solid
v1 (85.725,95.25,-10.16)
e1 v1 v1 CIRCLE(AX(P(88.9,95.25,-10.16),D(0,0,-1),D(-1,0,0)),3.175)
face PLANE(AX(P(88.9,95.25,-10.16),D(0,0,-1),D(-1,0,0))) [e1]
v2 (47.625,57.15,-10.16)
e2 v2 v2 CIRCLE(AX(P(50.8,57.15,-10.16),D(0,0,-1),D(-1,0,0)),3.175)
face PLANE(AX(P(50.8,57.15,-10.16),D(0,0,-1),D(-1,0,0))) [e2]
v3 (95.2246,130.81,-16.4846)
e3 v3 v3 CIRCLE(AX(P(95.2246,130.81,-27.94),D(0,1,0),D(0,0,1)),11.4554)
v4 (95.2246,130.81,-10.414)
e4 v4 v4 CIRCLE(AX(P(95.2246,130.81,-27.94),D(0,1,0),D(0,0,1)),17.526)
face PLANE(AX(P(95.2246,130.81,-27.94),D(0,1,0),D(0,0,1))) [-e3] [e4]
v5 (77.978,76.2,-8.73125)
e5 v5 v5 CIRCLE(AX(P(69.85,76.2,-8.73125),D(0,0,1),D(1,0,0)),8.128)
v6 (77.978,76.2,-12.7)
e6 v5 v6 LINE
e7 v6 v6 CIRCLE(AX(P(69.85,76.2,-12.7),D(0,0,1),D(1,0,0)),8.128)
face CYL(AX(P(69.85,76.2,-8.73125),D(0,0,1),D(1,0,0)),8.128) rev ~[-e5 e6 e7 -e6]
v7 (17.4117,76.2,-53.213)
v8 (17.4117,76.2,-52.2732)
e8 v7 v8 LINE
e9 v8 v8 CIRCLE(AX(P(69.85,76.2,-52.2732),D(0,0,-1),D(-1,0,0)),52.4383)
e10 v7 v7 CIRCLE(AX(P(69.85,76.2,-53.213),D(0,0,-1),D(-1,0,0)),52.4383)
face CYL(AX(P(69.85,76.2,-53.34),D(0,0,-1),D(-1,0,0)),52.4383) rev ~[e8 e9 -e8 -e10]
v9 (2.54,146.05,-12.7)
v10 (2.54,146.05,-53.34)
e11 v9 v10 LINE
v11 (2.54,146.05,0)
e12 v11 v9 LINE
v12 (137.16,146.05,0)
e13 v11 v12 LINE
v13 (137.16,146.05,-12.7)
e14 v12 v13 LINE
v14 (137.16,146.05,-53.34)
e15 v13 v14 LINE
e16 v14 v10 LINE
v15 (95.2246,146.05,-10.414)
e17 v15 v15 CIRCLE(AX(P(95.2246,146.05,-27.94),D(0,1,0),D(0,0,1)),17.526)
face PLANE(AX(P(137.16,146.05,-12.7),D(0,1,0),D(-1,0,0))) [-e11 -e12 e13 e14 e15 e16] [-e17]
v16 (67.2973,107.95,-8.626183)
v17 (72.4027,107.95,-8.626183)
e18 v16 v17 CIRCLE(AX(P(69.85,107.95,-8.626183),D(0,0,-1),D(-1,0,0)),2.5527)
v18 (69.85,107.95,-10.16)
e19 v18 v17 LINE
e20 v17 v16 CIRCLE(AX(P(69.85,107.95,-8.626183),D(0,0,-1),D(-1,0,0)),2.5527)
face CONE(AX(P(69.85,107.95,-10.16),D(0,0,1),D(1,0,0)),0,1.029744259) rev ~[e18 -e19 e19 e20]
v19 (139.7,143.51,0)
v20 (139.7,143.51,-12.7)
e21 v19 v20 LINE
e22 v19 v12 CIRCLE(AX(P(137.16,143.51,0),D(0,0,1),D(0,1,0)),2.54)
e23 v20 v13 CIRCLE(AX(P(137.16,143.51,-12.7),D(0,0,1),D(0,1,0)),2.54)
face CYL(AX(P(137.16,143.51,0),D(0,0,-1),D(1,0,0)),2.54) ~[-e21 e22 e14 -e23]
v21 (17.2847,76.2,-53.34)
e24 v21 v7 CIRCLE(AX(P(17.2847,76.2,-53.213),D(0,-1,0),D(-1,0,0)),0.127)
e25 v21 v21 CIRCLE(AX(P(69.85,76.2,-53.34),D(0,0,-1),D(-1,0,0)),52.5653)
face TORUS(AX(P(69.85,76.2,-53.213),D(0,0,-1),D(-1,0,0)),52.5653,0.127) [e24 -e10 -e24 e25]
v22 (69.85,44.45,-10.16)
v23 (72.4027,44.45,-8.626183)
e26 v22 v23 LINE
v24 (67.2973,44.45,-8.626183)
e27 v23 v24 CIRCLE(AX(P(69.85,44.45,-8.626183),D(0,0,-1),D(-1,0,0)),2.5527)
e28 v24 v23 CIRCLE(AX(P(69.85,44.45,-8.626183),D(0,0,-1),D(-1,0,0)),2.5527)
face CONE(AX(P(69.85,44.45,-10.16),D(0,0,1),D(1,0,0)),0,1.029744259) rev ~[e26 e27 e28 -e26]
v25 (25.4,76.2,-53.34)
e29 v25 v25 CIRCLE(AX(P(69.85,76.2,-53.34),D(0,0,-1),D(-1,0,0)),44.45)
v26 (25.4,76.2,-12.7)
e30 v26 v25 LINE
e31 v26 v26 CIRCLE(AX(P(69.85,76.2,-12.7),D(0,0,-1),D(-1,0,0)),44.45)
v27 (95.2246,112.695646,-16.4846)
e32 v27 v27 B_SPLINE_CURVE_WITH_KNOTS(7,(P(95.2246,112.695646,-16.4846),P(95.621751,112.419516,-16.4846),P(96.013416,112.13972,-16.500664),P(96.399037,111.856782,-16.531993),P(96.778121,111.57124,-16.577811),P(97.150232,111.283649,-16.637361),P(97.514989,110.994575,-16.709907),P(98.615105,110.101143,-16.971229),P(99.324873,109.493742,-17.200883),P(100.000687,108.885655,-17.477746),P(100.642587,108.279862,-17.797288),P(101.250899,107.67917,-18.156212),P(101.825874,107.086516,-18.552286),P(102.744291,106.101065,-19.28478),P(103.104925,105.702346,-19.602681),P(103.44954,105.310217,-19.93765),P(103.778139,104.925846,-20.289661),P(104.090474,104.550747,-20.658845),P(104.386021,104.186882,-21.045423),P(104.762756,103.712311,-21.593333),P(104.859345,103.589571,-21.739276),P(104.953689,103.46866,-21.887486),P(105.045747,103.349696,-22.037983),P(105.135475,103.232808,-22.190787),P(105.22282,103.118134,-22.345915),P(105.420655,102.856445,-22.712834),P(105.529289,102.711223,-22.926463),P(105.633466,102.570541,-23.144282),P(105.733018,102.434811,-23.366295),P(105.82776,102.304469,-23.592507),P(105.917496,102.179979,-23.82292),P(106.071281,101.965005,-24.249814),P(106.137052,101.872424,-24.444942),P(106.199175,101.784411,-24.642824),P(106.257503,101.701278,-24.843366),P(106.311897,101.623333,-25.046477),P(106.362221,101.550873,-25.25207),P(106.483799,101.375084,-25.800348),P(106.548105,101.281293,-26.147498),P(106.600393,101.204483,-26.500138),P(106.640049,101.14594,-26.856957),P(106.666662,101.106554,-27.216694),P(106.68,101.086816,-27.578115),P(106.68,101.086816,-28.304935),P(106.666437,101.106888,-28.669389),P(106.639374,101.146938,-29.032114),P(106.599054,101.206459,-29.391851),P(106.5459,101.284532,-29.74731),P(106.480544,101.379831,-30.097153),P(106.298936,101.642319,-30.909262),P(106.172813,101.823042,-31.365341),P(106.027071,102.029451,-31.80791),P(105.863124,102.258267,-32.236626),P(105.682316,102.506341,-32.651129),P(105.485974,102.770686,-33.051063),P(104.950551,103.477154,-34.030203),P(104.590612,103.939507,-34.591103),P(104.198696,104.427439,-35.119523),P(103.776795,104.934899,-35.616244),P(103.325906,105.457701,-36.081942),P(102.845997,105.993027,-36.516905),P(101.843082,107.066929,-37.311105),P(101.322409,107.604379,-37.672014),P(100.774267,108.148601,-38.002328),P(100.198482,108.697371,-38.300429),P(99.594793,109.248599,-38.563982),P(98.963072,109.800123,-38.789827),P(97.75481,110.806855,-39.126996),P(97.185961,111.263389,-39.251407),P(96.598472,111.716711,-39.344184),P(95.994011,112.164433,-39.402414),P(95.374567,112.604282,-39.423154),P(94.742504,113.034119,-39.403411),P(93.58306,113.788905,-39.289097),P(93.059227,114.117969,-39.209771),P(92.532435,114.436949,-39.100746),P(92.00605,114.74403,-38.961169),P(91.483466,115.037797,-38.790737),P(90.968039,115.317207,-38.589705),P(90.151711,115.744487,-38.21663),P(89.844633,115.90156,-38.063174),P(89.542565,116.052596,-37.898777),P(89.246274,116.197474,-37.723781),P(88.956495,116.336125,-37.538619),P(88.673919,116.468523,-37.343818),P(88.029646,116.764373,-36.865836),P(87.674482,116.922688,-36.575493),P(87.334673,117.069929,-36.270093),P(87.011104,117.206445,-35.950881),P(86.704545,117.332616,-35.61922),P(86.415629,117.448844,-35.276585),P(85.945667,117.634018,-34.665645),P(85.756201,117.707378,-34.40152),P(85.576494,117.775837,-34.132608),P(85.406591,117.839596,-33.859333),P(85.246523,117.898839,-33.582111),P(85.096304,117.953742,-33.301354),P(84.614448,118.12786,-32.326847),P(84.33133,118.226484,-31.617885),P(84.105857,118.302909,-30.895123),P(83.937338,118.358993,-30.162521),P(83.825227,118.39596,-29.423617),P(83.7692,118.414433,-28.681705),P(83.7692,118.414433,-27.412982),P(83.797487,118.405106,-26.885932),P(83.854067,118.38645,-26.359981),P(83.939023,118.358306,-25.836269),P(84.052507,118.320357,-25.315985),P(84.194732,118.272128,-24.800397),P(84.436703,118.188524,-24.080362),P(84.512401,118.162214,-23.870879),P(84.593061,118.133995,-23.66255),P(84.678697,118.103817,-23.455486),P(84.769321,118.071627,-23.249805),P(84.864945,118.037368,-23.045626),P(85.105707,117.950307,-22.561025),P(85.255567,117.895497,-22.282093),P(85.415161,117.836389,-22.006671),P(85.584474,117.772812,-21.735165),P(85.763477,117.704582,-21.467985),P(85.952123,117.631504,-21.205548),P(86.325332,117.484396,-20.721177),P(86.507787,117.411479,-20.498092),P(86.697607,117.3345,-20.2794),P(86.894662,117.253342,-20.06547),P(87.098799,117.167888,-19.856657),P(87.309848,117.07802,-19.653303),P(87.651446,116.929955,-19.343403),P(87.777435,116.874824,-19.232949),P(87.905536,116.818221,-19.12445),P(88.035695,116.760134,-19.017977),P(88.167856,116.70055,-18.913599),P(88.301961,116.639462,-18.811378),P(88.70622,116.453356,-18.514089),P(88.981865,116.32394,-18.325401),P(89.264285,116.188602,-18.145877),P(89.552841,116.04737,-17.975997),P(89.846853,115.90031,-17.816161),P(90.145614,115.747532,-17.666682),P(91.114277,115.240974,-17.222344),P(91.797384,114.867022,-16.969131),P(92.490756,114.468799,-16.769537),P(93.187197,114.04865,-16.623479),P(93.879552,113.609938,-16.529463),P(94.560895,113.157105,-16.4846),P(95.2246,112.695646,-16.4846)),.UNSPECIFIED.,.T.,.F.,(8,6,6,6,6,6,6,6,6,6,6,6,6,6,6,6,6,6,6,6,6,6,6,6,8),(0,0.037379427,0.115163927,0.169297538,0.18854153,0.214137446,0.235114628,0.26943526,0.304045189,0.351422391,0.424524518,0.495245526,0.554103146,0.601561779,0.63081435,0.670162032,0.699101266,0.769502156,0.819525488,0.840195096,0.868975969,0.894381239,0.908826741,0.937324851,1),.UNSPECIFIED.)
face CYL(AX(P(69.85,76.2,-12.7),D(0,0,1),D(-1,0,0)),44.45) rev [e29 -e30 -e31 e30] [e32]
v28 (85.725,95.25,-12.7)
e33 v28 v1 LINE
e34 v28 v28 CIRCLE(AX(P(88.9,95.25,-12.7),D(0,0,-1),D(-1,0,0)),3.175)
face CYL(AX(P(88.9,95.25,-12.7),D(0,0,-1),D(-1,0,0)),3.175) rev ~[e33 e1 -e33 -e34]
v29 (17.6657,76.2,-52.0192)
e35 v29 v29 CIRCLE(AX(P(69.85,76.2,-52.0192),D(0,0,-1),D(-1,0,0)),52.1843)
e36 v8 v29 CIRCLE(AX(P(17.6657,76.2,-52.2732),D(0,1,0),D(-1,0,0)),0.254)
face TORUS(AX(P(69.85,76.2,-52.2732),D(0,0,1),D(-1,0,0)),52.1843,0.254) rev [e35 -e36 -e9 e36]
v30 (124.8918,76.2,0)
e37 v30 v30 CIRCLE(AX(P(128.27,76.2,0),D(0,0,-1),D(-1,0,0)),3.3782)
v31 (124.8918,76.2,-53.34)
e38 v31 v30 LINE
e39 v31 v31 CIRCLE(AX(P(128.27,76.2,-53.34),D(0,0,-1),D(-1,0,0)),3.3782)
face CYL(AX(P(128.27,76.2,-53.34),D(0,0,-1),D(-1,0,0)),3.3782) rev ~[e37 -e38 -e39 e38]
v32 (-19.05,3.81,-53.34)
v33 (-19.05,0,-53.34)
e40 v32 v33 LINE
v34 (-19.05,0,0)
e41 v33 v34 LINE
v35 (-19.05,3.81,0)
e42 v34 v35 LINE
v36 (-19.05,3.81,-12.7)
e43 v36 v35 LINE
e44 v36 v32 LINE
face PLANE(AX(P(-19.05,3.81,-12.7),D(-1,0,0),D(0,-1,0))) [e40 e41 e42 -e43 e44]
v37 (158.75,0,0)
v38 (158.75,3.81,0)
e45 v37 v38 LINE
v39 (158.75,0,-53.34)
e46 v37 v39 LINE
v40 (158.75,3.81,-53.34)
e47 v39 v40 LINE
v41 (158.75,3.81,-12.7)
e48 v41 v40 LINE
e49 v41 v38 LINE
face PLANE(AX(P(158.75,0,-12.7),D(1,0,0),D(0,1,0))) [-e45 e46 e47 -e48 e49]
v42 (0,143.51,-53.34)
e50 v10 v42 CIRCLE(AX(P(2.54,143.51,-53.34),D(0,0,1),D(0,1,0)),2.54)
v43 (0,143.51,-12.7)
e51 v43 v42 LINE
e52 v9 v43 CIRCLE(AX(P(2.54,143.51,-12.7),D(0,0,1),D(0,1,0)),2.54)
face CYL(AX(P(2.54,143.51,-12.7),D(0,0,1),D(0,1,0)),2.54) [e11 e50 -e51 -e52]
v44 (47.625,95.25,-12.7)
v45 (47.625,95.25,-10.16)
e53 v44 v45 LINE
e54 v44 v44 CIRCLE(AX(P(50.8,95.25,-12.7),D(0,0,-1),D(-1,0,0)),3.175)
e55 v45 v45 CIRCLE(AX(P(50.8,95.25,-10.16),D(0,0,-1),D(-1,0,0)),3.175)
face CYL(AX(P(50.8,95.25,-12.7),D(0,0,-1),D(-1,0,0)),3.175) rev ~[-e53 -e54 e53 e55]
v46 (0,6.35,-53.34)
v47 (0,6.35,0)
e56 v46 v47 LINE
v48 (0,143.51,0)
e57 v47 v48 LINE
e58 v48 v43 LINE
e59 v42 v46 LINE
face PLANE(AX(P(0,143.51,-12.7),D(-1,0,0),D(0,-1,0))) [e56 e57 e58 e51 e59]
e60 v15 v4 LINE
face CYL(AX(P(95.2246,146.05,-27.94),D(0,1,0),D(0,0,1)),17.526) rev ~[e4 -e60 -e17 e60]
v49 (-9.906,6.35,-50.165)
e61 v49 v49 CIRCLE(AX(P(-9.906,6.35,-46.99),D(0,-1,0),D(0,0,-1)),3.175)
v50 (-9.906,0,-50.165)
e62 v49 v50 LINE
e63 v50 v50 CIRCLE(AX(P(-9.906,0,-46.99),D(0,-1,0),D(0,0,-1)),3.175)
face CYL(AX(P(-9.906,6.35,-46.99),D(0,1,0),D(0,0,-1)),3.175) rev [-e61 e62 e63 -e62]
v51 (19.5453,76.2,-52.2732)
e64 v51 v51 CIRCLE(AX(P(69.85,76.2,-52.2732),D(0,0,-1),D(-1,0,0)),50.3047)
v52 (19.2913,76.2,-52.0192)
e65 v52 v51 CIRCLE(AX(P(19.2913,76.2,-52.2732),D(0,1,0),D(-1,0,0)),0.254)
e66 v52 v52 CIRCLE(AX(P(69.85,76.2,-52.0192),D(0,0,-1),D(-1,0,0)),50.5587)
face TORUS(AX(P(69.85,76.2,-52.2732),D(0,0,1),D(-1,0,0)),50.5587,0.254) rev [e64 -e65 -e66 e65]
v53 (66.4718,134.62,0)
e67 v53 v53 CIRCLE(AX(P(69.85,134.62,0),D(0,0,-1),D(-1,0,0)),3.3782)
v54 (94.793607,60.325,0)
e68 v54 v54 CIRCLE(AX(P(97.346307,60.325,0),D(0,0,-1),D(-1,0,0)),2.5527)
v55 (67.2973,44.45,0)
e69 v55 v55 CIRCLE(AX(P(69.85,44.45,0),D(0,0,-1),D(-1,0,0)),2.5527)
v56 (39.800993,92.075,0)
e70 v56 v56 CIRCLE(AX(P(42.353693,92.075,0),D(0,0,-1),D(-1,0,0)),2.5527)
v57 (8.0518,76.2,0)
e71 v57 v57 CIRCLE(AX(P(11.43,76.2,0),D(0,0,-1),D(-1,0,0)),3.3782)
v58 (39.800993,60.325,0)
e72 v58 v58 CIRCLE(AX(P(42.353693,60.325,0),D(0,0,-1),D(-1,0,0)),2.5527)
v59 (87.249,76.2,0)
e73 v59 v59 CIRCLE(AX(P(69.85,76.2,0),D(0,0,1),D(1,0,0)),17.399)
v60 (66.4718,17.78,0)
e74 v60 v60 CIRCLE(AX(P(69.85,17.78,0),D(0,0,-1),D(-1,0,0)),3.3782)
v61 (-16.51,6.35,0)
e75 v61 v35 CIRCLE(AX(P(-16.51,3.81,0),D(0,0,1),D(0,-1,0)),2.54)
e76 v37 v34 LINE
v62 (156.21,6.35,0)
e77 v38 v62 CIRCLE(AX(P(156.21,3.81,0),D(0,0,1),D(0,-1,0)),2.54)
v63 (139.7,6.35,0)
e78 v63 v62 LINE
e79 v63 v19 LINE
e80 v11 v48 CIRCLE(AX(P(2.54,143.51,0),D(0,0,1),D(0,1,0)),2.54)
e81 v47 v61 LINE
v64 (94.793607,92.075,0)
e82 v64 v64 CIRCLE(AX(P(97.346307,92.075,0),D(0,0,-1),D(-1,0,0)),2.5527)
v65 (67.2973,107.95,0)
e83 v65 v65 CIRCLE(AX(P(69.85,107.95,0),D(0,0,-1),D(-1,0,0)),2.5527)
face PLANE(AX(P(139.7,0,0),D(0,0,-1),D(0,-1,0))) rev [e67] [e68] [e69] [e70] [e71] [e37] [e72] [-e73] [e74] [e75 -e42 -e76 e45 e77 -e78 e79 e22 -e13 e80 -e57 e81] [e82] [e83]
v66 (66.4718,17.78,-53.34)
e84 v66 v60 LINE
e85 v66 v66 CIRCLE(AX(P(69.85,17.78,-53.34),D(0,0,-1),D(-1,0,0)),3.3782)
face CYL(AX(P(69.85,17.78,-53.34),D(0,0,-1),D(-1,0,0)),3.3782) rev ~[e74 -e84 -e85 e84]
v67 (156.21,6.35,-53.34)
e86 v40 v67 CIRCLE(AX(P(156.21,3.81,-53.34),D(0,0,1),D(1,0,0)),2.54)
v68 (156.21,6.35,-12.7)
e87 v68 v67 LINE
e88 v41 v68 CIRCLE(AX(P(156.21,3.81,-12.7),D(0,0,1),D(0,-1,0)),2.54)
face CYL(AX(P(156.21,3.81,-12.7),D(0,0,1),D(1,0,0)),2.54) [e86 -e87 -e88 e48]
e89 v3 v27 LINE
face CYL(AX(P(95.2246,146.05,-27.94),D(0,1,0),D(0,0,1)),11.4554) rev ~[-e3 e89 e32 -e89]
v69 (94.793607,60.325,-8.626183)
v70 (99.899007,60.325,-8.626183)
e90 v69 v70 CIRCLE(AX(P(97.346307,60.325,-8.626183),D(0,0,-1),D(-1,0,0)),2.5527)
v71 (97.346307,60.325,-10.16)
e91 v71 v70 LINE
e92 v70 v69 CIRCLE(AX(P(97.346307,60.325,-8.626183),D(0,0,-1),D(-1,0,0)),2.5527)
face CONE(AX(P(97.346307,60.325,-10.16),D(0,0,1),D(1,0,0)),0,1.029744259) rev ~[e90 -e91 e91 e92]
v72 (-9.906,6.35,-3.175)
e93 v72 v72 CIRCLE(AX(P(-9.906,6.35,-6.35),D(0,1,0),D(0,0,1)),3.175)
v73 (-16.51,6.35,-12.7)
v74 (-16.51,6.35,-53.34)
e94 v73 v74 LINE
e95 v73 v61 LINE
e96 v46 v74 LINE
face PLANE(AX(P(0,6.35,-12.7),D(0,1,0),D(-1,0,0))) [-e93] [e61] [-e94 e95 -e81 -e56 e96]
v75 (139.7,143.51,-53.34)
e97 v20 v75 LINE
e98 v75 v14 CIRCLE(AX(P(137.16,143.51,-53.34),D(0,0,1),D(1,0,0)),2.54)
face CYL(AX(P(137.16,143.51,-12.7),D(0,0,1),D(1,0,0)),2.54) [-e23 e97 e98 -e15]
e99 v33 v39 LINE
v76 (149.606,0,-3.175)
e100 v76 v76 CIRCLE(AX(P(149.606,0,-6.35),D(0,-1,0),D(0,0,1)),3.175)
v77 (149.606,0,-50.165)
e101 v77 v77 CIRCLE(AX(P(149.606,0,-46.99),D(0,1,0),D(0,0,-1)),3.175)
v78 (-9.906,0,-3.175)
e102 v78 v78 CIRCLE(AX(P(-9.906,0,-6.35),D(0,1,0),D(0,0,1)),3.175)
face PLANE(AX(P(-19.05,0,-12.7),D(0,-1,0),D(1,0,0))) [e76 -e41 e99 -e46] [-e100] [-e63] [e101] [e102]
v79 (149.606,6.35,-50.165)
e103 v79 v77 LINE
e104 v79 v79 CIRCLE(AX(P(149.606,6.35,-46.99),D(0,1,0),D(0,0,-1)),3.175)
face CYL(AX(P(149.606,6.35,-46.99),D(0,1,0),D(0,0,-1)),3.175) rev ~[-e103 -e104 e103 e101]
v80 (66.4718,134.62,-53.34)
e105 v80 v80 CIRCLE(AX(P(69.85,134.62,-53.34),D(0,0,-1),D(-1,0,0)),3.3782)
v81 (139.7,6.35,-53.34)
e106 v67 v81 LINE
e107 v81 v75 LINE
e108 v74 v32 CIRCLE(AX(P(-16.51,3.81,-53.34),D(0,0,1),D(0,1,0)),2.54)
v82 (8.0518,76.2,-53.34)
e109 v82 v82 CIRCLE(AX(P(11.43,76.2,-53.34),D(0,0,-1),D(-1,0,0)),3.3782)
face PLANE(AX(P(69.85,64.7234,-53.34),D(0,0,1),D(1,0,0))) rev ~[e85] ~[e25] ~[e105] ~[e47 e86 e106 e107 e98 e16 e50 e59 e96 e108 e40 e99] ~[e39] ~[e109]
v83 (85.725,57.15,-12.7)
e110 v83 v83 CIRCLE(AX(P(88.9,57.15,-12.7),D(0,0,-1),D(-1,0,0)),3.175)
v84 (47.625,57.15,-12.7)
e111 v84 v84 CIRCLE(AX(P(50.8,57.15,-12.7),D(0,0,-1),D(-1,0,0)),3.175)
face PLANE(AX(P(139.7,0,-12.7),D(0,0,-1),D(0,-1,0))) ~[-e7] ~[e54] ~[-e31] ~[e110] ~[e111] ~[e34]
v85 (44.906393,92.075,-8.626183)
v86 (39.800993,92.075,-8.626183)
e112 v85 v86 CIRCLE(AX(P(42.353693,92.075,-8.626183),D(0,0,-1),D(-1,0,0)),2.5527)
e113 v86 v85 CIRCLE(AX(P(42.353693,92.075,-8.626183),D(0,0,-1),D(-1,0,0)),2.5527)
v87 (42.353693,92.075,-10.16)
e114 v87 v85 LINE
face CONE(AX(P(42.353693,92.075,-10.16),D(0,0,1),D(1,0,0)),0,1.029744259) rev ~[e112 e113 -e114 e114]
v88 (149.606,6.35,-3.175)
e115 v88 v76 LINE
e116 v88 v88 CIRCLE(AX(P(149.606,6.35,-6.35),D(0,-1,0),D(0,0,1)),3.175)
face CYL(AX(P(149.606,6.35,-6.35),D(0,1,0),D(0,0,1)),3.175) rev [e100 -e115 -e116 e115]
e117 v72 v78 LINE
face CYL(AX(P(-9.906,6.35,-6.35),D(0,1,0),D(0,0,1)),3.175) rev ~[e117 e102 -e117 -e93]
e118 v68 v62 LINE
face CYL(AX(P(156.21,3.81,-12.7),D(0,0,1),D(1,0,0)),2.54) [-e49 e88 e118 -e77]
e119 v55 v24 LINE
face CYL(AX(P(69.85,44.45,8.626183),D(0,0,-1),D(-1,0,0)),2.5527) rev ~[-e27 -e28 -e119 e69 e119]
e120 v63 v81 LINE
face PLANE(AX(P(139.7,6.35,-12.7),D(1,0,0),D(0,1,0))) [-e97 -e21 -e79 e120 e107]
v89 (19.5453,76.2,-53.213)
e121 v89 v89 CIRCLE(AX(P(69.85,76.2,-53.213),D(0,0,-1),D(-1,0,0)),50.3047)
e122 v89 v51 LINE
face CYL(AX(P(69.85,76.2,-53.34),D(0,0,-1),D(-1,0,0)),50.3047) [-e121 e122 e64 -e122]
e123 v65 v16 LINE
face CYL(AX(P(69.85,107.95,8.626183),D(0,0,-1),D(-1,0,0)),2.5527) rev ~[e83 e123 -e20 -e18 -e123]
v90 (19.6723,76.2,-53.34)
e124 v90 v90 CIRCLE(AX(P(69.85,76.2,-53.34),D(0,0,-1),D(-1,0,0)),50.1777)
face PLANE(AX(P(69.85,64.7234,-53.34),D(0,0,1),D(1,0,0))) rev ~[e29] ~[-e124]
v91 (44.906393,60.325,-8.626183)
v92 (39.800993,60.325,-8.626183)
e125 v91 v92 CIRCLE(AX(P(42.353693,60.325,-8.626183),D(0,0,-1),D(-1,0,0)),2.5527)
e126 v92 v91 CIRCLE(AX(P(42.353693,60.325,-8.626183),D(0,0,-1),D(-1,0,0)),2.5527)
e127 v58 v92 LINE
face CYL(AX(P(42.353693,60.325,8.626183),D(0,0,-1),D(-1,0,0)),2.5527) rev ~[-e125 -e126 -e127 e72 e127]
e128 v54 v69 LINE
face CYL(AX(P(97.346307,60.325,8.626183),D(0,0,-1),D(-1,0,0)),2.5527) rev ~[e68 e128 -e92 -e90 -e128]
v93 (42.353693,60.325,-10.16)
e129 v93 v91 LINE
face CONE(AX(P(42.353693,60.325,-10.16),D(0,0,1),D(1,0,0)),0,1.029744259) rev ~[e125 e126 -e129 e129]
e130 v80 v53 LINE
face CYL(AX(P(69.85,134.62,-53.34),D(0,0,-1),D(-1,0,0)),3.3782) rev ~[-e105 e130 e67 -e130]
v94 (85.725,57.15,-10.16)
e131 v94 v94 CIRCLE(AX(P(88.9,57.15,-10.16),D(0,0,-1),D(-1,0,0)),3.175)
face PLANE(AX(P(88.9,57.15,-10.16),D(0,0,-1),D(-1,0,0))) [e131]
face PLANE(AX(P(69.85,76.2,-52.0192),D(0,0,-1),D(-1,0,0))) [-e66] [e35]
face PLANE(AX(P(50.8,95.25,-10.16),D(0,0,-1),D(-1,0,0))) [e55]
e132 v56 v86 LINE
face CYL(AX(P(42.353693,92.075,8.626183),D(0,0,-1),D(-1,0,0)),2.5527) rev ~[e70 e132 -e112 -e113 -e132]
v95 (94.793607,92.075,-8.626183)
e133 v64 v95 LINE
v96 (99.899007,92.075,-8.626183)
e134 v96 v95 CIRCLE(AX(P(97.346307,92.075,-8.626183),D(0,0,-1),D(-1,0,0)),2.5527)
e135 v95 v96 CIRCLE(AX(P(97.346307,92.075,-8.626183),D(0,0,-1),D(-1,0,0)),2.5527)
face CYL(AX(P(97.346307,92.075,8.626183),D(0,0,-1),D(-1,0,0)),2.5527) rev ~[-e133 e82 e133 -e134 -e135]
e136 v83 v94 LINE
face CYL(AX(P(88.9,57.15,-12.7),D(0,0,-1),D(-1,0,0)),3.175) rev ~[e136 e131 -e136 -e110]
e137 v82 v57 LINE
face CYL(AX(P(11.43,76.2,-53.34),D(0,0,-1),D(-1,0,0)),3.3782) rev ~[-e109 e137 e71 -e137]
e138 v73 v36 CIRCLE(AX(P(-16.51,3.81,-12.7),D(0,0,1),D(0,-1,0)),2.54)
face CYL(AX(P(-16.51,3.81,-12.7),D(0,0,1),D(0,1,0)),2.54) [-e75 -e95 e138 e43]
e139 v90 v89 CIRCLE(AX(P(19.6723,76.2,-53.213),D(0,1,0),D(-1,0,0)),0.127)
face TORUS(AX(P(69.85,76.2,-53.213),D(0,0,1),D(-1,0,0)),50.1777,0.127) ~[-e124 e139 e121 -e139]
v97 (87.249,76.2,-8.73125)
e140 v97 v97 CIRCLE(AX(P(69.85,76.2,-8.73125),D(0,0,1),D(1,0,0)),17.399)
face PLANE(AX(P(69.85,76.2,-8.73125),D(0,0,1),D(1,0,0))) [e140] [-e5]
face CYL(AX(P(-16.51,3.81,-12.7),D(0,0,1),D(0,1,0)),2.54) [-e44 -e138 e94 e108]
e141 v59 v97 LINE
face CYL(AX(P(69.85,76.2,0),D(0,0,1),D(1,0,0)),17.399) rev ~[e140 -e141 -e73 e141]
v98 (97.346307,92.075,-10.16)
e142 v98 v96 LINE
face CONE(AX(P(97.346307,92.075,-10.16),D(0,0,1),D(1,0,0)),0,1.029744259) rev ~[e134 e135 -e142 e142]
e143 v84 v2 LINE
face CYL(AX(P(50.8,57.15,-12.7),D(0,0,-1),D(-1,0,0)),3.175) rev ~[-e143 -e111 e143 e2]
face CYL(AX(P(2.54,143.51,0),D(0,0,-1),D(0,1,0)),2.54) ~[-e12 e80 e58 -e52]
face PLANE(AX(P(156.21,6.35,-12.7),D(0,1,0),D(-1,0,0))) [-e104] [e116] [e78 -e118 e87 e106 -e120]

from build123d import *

# Parameters (mm, degrees)
SKETCH1_W                       = 139.7
SKETCH1_H                       = 12.7
BOSS_EXTRUDE1_DEPTH             = 146.05
SKETCH2_W                       = 12.7
SKETCH2_H                       = 6.35
BOSS_EXTRUDE2_DEPTH             = 19.05
CUT_EXTRUDE4_REACH              = 213.847
SKETCH6_R                       = 3.175
FILLET1_R                       = 2.54
SKETCH3_R                       = 17.399
CUT_EXTRUDE5_DEPTH              = 8.73125
CUT_EXTRUDE6_REACH              = 217.89
SKETCH7_R                       = 8.128
SKETCH8_R                       = 44.45
BOSS_EXTRUDE3_DEPTH             = 40.64
OUTLET_REACH                    = 224.21
OUTLET_END_RADIUS               = 44.45
SKETCH10_R                      = 11.4554
SKETCH11_R                      = 52.4383
SKETCH11_R_2                    = 50.3047
CUT_EXTRUDE9_DEPTH              = 1.3208
MIRROR3_COPY_1_REACH            = 213.847
MIRROR3_COPY_1_SKETCH_R         = 3.175
SKETCH12_R                      = 3.175
CUT_EXTRUDE10_DEPTH             = 2.54
FILLET2_R                       = 0.127
FILLET3_R                       = 0.254
SKETCH13_R                      = 3.3782
CUT_EXTRUDE11_DEPTH             = 223.210082195
SKETCH14_R                      = 17.526
CUT_EXTRUDE12_DEPTH             = 15.24
TAP_DRILL_FOR_1_4_20_TAP1_D     = 5.1054
TAP_DRILL_FOR_1_4_20_TAP1_DEPTH = 8.626183098
TAP_DRILL_FOR_1_4_20_TAP1_TIP   = 1.533816902


with BuildPart() as part:
    # Sketch1 → Boss-Extrude1 (new body)
    with BuildSketch(Plane(origin=(0, 0, 0), x_dir=(1, 0, 0), z_dir=(0, 1, 0))):
        with Locations((69.85, 6.35)):
            Rectangle(SKETCH1_W, SKETCH1_H)
    extrude(amount=BOSS_EXTRUDE1_DEPTH)

    # Sketch2 → Boss-Extrude2 (add)
    with BuildSketch(Plane.ZY):
        with Locations((-6.35, 3.175)):
            Rectangle(SKETCH2_W, SKETCH2_H)
    boss_extrude2 = extrude(amount=BOSS_EXTRUDE2_DEPTH)

    # Mirror1: Boss-Extrude2 across plane
    add(boss_extrude2.mirror(Plane.ZY.offset(-69.85)))

    # Sketch6 → Cut-Extrude4 (cut, up to next)
    with BuildSketch(Plane(origin=(0, 6.35, 0), x_dir=(1, 0, 0), z_dir=(0, 1, 0)), mode=Mode.PRIVATE) as cut_extrude4_sk1:
        with Locations(Location((-9.906, 6.35, 0), (0, 0, 270))):
            Circle(SKETCH6_R)
    cut_extrude4_tool1 = extrude(cut_extrude4_sk1.sketch, amount=-CUT_EXTRUDE4_REACH, mode=Mode.PRIVATE) & part.part
    cut_extrude4 = cut_extrude4_tool1.solids().sort_by_distance((-9.906, 6.35, -6.35))[0]
    add(cut_extrude4, mode=Mode.SUBTRACT)

    # Mirror2: Cut-Extrude4 across plane
    add(cut_extrude4.mirror(Plane.ZY.offset(-69.85)), mode=Mode.SUBTRACT)

    # Fillet1
    fillet1_edges = [part.edges().sort_by_distance(p)[0] for p in [
        (139.7, 146.05, -6.35),
        (-19.05, 6.35, -6.35),
        (158.75, 6.35, -6.35),
        (0, 146.05, -6.35),
    ]]
    fillet(fillet1_edges, radius=FILLET1_R)

    # Sketch3 → Cut-Extrude5 (cut)
    with BuildSketch(Plane.XY):
        with Locations((69.85, 76.2)):
            Circle(SKETCH3_R)
    extrude(amount=-CUT_EXTRUDE5_DEPTH, mode=Mode.SUBTRACT)

    # Sketch7 → Cut-Extrude6 (cut, up to next)
    with BuildSketch(Plane.XY.offset(-8.73125), mode=Mode.PRIVATE) as cut_extrude6_sk1:
        with Locations((69.85, 76.2)):
            Circle(SKETCH7_R)
    cut_extrude6_tool1 = extrude(cut_extrude6_sk1.sketch, amount=-CUT_EXTRUDE6_REACH, mode=Mode.PRIVATE) & part.part
    add(cut_extrude6_tool1.solids().sort_by_distance((69.85, 76.2, -8.73125))[0], mode=Mode.SUBTRACT)

    # Sketch8 → Boss-Extrude3 (add)
    with BuildSketch(Plane(origin=(0, 0, -12.7), x_dir=(-1, 0, 0), z_dir=(0, 0, -1))):
        with BuildLine():
            Line((-137.16, 146.05), (-2.54, 146.05))
            ThreePointArc((-2.54, 146.05), (-0.743948776, 145.306051224), (0, 143.51))
            Line((0, 143.51), (0, 6.35))
            Line((0, 6.35), (16.51, 6.35))
            ThreePointArc((16.51, 6.35), (18.306051224, 5.606051224), (19.05, 3.81))
            Line((19.05, 3.81), (19.05, 0))
            Line((19.05, 0), (-158.75, 0))
            Line((-158.75, 0), (-158.75, 3.81))
            ThreePointArc((-158.75, 3.81), (-158.006051224, 5.606051224), (-156.21, 6.35))
            Line((-156.21, 6.35), (-139.7, 6.35))
            Line((-139.7, 6.35), (-139.7, 143.51))
            ThreePointArc((-139.7, 143.51), (-138.956051224, 145.306051224), (-137.16, 146.05))
        make_face()
        with Locations((-69.85, 76.2)):
            Circle(SKETCH8_R, mode=Mode.SUBTRACT)
    extrude(amount=BOSS_EXTRUDE3_DEPTH)

    # Outlet: up to this cylinder (the profile starts outside it)
    outlet_end = Plane(origin=(69.85, 76.2, -27.94), z_dir=(0, 0, 1)) * Cylinder(OUTLET_END_RADIUS, 538.32, mode=Mode.PRIVATE)
    # Sketch10 → Outlet (cut, up to the surface)
    with BuildSketch(Plane(origin=(0, 146.05, 0), x_dir=(1, 0, 0), z_dir=(0, 1, 0)), mode=Mode.PRIVATE) as outlet_sk1:
        with Locations(Location((95.2246, 27.94, 0), (0, 0, 270))):
            Circle(SKETCH10_R)
    outlet_tool1 = extrude(outlet_sk1.sketch, amount=-OUTLET_REACH, mode=Mode.PRIVATE) - outlet_end
    add(outlet_tool1.solids().sort_by_distance((95.2246, 146.05, -27.94))[0], mode=Mode.SUBTRACT)

    # Sketch11 → Cut-Extrude9 (cut)
    with BuildSketch(Plane(origin=(0, 0, -53.34), x_dir=(-1, 0, 0), z_dir=(0, 0, -1))):
        with Locations((-69.85, 76.2)):
            Circle(SKETCH11_R)
        with Locations((-69.85, 76.2)):
            Circle(SKETCH11_R_2, mode=Mode.SUBTRACT)
    extrude(amount=-CUT_EXTRUDE9_DEPTH, mode=Mode.SUBTRACT)

    # Mirror3: Cut-Extrude4 across plane
    add(cut_extrude4.mirror(Plane(origin=(0, 0, -26.67), x_dir=(1, 0, 0), z_dir=(0, 0, -1))), mode=Mode.SUBTRACT)

    # Mirror3 copy 1 sketch → Mirror3 copy 1 (cut, up to next)
    with BuildSketch(Plane(origin=(139.7, 6.35, -53.34), x_dir=(-1, 0, 0), z_dir=(0, 1, 0)), mode=Mode.PRIVATE) as mirror3_copy_1_sk1:
        with Locations(Location((-9.906, 6.35, 0), (0, 0, 270))):
            Circle(MIRROR3_COPY_1_SKETCH_R)
    mirror3_copy_1_tool1 = extrude(mirror3_copy_1_sk1.sketch, amount=-MIRROR3_COPY_1_REACH, mode=Mode.PRIVATE) & part.part
    add(mirror3_copy_1_tool1.solids().sort_by_distance((149.606, 6.35, -46.99))[0], mode=Mode.SUBTRACT)

    # Sketch12 → Cut-Extrude10 (cut)
    with BuildSketch(Plane(origin=(0, 0, -12.7), x_dir=(-1, 0, 0), z_dir=(0, 0, -1))):
        with Locations((-88.9, 95.25)):
            Circle(SKETCH12_R)
        with Locations((-50.8, 95.25)):
            Circle(SKETCH12_R)
        with Locations((-50.8, 57.15)):
            Circle(SKETCH12_R)
        with Locations((-88.9, 57.15)):
            Circle(SKETCH12_R)
    extrude(amount=-CUT_EXTRUDE10_DEPTH, mode=Mode.SUBTRACT)

    # Fillet2
    fillet2_edges = [part.edges().sort_by_distance(p)[0] for p in [
        (122.2883, 76.2, -53.34),
        (120.1547, 76.2, -53.34),
    ]]
    fillet(fillet2_edges, radius=FILLET2_R)

    # Fillet3
    fillet3_edges = [part.edges().sort_by_distance(p)[0] for p in [
        (122.2883, 76.2, -52.0192),
        (120.1547, 76.2, -52.0192),
    ]]
    fillet(fillet3_edges, radius=FILLET3_R)

    # Sketch13 → Cut-Extrude11 (cut, through all)
    with BuildSketch(Plane(origin=(0, 0, -53.34), x_dir=(-1, 0, 0), z_dir=(0, 0, -1))):
        with Locations((-128.27, 76.2)):
            Circle(SKETCH13_R)
        with Locations((-69.85, 134.62)):
            Circle(SKETCH13_R)
        with Locations((-11.43, 76.2)):
            Circle(SKETCH13_R)
        with Locations((-69.85, 17.78)):
            Circle(SKETCH13_R)
    extrude(amount=-CUT_EXTRUDE11_DEPTH, mode=Mode.SUBTRACT)

    # Sketch14 → Cut-Extrude12 (cut)
    with BuildSketch(Plane(origin=(0, 146.05, 0), x_dir=(1, 0, 0), z_dir=(0, 1, 0))):
        with Locations(Location((95.2246, 27.94, 0), (0, 0, 270))):
            Circle(SKETCH14_R)
    extrude(amount=-CUT_EXTRUDE12_DEPTH, mode=Mode.SUBTRACT)

    # Tap Drill for 1/4-20 Tap1
    with Locations(Plane(origin=(69.85, 107.95, 0), x_dir=(1, 0, 0), z_dir=(0, 0, 1))):
        with Locations((0, 0), (27.49630657, -15.875), (27.49630657, -47.625), (0, -63.5), (-27.49630657, -47.625), (-27.49630657, -15.875)):
            Hole(TAP_DRILL_FOR_1_4_20_TAP1_D / 2, depth=TAP_DRILL_FOR_1_4_20_TAP1_DEPTH)
            with Locations((0, 0, -(TAP_DRILL_FOR_1_4_20_TAP1_DEPTH + TAP_DRILL_FOR_1_4_20_TAP1_TIP / 2))):  # 118° drill point
                Cone(0, TAP_DRILL_FOR_1_4_20_TAP1_D / 2, TAP_DRILL_FOR_1_4_20_TAP1_TIP, mode=Mode.SUBTRACT)


solid = part.part
